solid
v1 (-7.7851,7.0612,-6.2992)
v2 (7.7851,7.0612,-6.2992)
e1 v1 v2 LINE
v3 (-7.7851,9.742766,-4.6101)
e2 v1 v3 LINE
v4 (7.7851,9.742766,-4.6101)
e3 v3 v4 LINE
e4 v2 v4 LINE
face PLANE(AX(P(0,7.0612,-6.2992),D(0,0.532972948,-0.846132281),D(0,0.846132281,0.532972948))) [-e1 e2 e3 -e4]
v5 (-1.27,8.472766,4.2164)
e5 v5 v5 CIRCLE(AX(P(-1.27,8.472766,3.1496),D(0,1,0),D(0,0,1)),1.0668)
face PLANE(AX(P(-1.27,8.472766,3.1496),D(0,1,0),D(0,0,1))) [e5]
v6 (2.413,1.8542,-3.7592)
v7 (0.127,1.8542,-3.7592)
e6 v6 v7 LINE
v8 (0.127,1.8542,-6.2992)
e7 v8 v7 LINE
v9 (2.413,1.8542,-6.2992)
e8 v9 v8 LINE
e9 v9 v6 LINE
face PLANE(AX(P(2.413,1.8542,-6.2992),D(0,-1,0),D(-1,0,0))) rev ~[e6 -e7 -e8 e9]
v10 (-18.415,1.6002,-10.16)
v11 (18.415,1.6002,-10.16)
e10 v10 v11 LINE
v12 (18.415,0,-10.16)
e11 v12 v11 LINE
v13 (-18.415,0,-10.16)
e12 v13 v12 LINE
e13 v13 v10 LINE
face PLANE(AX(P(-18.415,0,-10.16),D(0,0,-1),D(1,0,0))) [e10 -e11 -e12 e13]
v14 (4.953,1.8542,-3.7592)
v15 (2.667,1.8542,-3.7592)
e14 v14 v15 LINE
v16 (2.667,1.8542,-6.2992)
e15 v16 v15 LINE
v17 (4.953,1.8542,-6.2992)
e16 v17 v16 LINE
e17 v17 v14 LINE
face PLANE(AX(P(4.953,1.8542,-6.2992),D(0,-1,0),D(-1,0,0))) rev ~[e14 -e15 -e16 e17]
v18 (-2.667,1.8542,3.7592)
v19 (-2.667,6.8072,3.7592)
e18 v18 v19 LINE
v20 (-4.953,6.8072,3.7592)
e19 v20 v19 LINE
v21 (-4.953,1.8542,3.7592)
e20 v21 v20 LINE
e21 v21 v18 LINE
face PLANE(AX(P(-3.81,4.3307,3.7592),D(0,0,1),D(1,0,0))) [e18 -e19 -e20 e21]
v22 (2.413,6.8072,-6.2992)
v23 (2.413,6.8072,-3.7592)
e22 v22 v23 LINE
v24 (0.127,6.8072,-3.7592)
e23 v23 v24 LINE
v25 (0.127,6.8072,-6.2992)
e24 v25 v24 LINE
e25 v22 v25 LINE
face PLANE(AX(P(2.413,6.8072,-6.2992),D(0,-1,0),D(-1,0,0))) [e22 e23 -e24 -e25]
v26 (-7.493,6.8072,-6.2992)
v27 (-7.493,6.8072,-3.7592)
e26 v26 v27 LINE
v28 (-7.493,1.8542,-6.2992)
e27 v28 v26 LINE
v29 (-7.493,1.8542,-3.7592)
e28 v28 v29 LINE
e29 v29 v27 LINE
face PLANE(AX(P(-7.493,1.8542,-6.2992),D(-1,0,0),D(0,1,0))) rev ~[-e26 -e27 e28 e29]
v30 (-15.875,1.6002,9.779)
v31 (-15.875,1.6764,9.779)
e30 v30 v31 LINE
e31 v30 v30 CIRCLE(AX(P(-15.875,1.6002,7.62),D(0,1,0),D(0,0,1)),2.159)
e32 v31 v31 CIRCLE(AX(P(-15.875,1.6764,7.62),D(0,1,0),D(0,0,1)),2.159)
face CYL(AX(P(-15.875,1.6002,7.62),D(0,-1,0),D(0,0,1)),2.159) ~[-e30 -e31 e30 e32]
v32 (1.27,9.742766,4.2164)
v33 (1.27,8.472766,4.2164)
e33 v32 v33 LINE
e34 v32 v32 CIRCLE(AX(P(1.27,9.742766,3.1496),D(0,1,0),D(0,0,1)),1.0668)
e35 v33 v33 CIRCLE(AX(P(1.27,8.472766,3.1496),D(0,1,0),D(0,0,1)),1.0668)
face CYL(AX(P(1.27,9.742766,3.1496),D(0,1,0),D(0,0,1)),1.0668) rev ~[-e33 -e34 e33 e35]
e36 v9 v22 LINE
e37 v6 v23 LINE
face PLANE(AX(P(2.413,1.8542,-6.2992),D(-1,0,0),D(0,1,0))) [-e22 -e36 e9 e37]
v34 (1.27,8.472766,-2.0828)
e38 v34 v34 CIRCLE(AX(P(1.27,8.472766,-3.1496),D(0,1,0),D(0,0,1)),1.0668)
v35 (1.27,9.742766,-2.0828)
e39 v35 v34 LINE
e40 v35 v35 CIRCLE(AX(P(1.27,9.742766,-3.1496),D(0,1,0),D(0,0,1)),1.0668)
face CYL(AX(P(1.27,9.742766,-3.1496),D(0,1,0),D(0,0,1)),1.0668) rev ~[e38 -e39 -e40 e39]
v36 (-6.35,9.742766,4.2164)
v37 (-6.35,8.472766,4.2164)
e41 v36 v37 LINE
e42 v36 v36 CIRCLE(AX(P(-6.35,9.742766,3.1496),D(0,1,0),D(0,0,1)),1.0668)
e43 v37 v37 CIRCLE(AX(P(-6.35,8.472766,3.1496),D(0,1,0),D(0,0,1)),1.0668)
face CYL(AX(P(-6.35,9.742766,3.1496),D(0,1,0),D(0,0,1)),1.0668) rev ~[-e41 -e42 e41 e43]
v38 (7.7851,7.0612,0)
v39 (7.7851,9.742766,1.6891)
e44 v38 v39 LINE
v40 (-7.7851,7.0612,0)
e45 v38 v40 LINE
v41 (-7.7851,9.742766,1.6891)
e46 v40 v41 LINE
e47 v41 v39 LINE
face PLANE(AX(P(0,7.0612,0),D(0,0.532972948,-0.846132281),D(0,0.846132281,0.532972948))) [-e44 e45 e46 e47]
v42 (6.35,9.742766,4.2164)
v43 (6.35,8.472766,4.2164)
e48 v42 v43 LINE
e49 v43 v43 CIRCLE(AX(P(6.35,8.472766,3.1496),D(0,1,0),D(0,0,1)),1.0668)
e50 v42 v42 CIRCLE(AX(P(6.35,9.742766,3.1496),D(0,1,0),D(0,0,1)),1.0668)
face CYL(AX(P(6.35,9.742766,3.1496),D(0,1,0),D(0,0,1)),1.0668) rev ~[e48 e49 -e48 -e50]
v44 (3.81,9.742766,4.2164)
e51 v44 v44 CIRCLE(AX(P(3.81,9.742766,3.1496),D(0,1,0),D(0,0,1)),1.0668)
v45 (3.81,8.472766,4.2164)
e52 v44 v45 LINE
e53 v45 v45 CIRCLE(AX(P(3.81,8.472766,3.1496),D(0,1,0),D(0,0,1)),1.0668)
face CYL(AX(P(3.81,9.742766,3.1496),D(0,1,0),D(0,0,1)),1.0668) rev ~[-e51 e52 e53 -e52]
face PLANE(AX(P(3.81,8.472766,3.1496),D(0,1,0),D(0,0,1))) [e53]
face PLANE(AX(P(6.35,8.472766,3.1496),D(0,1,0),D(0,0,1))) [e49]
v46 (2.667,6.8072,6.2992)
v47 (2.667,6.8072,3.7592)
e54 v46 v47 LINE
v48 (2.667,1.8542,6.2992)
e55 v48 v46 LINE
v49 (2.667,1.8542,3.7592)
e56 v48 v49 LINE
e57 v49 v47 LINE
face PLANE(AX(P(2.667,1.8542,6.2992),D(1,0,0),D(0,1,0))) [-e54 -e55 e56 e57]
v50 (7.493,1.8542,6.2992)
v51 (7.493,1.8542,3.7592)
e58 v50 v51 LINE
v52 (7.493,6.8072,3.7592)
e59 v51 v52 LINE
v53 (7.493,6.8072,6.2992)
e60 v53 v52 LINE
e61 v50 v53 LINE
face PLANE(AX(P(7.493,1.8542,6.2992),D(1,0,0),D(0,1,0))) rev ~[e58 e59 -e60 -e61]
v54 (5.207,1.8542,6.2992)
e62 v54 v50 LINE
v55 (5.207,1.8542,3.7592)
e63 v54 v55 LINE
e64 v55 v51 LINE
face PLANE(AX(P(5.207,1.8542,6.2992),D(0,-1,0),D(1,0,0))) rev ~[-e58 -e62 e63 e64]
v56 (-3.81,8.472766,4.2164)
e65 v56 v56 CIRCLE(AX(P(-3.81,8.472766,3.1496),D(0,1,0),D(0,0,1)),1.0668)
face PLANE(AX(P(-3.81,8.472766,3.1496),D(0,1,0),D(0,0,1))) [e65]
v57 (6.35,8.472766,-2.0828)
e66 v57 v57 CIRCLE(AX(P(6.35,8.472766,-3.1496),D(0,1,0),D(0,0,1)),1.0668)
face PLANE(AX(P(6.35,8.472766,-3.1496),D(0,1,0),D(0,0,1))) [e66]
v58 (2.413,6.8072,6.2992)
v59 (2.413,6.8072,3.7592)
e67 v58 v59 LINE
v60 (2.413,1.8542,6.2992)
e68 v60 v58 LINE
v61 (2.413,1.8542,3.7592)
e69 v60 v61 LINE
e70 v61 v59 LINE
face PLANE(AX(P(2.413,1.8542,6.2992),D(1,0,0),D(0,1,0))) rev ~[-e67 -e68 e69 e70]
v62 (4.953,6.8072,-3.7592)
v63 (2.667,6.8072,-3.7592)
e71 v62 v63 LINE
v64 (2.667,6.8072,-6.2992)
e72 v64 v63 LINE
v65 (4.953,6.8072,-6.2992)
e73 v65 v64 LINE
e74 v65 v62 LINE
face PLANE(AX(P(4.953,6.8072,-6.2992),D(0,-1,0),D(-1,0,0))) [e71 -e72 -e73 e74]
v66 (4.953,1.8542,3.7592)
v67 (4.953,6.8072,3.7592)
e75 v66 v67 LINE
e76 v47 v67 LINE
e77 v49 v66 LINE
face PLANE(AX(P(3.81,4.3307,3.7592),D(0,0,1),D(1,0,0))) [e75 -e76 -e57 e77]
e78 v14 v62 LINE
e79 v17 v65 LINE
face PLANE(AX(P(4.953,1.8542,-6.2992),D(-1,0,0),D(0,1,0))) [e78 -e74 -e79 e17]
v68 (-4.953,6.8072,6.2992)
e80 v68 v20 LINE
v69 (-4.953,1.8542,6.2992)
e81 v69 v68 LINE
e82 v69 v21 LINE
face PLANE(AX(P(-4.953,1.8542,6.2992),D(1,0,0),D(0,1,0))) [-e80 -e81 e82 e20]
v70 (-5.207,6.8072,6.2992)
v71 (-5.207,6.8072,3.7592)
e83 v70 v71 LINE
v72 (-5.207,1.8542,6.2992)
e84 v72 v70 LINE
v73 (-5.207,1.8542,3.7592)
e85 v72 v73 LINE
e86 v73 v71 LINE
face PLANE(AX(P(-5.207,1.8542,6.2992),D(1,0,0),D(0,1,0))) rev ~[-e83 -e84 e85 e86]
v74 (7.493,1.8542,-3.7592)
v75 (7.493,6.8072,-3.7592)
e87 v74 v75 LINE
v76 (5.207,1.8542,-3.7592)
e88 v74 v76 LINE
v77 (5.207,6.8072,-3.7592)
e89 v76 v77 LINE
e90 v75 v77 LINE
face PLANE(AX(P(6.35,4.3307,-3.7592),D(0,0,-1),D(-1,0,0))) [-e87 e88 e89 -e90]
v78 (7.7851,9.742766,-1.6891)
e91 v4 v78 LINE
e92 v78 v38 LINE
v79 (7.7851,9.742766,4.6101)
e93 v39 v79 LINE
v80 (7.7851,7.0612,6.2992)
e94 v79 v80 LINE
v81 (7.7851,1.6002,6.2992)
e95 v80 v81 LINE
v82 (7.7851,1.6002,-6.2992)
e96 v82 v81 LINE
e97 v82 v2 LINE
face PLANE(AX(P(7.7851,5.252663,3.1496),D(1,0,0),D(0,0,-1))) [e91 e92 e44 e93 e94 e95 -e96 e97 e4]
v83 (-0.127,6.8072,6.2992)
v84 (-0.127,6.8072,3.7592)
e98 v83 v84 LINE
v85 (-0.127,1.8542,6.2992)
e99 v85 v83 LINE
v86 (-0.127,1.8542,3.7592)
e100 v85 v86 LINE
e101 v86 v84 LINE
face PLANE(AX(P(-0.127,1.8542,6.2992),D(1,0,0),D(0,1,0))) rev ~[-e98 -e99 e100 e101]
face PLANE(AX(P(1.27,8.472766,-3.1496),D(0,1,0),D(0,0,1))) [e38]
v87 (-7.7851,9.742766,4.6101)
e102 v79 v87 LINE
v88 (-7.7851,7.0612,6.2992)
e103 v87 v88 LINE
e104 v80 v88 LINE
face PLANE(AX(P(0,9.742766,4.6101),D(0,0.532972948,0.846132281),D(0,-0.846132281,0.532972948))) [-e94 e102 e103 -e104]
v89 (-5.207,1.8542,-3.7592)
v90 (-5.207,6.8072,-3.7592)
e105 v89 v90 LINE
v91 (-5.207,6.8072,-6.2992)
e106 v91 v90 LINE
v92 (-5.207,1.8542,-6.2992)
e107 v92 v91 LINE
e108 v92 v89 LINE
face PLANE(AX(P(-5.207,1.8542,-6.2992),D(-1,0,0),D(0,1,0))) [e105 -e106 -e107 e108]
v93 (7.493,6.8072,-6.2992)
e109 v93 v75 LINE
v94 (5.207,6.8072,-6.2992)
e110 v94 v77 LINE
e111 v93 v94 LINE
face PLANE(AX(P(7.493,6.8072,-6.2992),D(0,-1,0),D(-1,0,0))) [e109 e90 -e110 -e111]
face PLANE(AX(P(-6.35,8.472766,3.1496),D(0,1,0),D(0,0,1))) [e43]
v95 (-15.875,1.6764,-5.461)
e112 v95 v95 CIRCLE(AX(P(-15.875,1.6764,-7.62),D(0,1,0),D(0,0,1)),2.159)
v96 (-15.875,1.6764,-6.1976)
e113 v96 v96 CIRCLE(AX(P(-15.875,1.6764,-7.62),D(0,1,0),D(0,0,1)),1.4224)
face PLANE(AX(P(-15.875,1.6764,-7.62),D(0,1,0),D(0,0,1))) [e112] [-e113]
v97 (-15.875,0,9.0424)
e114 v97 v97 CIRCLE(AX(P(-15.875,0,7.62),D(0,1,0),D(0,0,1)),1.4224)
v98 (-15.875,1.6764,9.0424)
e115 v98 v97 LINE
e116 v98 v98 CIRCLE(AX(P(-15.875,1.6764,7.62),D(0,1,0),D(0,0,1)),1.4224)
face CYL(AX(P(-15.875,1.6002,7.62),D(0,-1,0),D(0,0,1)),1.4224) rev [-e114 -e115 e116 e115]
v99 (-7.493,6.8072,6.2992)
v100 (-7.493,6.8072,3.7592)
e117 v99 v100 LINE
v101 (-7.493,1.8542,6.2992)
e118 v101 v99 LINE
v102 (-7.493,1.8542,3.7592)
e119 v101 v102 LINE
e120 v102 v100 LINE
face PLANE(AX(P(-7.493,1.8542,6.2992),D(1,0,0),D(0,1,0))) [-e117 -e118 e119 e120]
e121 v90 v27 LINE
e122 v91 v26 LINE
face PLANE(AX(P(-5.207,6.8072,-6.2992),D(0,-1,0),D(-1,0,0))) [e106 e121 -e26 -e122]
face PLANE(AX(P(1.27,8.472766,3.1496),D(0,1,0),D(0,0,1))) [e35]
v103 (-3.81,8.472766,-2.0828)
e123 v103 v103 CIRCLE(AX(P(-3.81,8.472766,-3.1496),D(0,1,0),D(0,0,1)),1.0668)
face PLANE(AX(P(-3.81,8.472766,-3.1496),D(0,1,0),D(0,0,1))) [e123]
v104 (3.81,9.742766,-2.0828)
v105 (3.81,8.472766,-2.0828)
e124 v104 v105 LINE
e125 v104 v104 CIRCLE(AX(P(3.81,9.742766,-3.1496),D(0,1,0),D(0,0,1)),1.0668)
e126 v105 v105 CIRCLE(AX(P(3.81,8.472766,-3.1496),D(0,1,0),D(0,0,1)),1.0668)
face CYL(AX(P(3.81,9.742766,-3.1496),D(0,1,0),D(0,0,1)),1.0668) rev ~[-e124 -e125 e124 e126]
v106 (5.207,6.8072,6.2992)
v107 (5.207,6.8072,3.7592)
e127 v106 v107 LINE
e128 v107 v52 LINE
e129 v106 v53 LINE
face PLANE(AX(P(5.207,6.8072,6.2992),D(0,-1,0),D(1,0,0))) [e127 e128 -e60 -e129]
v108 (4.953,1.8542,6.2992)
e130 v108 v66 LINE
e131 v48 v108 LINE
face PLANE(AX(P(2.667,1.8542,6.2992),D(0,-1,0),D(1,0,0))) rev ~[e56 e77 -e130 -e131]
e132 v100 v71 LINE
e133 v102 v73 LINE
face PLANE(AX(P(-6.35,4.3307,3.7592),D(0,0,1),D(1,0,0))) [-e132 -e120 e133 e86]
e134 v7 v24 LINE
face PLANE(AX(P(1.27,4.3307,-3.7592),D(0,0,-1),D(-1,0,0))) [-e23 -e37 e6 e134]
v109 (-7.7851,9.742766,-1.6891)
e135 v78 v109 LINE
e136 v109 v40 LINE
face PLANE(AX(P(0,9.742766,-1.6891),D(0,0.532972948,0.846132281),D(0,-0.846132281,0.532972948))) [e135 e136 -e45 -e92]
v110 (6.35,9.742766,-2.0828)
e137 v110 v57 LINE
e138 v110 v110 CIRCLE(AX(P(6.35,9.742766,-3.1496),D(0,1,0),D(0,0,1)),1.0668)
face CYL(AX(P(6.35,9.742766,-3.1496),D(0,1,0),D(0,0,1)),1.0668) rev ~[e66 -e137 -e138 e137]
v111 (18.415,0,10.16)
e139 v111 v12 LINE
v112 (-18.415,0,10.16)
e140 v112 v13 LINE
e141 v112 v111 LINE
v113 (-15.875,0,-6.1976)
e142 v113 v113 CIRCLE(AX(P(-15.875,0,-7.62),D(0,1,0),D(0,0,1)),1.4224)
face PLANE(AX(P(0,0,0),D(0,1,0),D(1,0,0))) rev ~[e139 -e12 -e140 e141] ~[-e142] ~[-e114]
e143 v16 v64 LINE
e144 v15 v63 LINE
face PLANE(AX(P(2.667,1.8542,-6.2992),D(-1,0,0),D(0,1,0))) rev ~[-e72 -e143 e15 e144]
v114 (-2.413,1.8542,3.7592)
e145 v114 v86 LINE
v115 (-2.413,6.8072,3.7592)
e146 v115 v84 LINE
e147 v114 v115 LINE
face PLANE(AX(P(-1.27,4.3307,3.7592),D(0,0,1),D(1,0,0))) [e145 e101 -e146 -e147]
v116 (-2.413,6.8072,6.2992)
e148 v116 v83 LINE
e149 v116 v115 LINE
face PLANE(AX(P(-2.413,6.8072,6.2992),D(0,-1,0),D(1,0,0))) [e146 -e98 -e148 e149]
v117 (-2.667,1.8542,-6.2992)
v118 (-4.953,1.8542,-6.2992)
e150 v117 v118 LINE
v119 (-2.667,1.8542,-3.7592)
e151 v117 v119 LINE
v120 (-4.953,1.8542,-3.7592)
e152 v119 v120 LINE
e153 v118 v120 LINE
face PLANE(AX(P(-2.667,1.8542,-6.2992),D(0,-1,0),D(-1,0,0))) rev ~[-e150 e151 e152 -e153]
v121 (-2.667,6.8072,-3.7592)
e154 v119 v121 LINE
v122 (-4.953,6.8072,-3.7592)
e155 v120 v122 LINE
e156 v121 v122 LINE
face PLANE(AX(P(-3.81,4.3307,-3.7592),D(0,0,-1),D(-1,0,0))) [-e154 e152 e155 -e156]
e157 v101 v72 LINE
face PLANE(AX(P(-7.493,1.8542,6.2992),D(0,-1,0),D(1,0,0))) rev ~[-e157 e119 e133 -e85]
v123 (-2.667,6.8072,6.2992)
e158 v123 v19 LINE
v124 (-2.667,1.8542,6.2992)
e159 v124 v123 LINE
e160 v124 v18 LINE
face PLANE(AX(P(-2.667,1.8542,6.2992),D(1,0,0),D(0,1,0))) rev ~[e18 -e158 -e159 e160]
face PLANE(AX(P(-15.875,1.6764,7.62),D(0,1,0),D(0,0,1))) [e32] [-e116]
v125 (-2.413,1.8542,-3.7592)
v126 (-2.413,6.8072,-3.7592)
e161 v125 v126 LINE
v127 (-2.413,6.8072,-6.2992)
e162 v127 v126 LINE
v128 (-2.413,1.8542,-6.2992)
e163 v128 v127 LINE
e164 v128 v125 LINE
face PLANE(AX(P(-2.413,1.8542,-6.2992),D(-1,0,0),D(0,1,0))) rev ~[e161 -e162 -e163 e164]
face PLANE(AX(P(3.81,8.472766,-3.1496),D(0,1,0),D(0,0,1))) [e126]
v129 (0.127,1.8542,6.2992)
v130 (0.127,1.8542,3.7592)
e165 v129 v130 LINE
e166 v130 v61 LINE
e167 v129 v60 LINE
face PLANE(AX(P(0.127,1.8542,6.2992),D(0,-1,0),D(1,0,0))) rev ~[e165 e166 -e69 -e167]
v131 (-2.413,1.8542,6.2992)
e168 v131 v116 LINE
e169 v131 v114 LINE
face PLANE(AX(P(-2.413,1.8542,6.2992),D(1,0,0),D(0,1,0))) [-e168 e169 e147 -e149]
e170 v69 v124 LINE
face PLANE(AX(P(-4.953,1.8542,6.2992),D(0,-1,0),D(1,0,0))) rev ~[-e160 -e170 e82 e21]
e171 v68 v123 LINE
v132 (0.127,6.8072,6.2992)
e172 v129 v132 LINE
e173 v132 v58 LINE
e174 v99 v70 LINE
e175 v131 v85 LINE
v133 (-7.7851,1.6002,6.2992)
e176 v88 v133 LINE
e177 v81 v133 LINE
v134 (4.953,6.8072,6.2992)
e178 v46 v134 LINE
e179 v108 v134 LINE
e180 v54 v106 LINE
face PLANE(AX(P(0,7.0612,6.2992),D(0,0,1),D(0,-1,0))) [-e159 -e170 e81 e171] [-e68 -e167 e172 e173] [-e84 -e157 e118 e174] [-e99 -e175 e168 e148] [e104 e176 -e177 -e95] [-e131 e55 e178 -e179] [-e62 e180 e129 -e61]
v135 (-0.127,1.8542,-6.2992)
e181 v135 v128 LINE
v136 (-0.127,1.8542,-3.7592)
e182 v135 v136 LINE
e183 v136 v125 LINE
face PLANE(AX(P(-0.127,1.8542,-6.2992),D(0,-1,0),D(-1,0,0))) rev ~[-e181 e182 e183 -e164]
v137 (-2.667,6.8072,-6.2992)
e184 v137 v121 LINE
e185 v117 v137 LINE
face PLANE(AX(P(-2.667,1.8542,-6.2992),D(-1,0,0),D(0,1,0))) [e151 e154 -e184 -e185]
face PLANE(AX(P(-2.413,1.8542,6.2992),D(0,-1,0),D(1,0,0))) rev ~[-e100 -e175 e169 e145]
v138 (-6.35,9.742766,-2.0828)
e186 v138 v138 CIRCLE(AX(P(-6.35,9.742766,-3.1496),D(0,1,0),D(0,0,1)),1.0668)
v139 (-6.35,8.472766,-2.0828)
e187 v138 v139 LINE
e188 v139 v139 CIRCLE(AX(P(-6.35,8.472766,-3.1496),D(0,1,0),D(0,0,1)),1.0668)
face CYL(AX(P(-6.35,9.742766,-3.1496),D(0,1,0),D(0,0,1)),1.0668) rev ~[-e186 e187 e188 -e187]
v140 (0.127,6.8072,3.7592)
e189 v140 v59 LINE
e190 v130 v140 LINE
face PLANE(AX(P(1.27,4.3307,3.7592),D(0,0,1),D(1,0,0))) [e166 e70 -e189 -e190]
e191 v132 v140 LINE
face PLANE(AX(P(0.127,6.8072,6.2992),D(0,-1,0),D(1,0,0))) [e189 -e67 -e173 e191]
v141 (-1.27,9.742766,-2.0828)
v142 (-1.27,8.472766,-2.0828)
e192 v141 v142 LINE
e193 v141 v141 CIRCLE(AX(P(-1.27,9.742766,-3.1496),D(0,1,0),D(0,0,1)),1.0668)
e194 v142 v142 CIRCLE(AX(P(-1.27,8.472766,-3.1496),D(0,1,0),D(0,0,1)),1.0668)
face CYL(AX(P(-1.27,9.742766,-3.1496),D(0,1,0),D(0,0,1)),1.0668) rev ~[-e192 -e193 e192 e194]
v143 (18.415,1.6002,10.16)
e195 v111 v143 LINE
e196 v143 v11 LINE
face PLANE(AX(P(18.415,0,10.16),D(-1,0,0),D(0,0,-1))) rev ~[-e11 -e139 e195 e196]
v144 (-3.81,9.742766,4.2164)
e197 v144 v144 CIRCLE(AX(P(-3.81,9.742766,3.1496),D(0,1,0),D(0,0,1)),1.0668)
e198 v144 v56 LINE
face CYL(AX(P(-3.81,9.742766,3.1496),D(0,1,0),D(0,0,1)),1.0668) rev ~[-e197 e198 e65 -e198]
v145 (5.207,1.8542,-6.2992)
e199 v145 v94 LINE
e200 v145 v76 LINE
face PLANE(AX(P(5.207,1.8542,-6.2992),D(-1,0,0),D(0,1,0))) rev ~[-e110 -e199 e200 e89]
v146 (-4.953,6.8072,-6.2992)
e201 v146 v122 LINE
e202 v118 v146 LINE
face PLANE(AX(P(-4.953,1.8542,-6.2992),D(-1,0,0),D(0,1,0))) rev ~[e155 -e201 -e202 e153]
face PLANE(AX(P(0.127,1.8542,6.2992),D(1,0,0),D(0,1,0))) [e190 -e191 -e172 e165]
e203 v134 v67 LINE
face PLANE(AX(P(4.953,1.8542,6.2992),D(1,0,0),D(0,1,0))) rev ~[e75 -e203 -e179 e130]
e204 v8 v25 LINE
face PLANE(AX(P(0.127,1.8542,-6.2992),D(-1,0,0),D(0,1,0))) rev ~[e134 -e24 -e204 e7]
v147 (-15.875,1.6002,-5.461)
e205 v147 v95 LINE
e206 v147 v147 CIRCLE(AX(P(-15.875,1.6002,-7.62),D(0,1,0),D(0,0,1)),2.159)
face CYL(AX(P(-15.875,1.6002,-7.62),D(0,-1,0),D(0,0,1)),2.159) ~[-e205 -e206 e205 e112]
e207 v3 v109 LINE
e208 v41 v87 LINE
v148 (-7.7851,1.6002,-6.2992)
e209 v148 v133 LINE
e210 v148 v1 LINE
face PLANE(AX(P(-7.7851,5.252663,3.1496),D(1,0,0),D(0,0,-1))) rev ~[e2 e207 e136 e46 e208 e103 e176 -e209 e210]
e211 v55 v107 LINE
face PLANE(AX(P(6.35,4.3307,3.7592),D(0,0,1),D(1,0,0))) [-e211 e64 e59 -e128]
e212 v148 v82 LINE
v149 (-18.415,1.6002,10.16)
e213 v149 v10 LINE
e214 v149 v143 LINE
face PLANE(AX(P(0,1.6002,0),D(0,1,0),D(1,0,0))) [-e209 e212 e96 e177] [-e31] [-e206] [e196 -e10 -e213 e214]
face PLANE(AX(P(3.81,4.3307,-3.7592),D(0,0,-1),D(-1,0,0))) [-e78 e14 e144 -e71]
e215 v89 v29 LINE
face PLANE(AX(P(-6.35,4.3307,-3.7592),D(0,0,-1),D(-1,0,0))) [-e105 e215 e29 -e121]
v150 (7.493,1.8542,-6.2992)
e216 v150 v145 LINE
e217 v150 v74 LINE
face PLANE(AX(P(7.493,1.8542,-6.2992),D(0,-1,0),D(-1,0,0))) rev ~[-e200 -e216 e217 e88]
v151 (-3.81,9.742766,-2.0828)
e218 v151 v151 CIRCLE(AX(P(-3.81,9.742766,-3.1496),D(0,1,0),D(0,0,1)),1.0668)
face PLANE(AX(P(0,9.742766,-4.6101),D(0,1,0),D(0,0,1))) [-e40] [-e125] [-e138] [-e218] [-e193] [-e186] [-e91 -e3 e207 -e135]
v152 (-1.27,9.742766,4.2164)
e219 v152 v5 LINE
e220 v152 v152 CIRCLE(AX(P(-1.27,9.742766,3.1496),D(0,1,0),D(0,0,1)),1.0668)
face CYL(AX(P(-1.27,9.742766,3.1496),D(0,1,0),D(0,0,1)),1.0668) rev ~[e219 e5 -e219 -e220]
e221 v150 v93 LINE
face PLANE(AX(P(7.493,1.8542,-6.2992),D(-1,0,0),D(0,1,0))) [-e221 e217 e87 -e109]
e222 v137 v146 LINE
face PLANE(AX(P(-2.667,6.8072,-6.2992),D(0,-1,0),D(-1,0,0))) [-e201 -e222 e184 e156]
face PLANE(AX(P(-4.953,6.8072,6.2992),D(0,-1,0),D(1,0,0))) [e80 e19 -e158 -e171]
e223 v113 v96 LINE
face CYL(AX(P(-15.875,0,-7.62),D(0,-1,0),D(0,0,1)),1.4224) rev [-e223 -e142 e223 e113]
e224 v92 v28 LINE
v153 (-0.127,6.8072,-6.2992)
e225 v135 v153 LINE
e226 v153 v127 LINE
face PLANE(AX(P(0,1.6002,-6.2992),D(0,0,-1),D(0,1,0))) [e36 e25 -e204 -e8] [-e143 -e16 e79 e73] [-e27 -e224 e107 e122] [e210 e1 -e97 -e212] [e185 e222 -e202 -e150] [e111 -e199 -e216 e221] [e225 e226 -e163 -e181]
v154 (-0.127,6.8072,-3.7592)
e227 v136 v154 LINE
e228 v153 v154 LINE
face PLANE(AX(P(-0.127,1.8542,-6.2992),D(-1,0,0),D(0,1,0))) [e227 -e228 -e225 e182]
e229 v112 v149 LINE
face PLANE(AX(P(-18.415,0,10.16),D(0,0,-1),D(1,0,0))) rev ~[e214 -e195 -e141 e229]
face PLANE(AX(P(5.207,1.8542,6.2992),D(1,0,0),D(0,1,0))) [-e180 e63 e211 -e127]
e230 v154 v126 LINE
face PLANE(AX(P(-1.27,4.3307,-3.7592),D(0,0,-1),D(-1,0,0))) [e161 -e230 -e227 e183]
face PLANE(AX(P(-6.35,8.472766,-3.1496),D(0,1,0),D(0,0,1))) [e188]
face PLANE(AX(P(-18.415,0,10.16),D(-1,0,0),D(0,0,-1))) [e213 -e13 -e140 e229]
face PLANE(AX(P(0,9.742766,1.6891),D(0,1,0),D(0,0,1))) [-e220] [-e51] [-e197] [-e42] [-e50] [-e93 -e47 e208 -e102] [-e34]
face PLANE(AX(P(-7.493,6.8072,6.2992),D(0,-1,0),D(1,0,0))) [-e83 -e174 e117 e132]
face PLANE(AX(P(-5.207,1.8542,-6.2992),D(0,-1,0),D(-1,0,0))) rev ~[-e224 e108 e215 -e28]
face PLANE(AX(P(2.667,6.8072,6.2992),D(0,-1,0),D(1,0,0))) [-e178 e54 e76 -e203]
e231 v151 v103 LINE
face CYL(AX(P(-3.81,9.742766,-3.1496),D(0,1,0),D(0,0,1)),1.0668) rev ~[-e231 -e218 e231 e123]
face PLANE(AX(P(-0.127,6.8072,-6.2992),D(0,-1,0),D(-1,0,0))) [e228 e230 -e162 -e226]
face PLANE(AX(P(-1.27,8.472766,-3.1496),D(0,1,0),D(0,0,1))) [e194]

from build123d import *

# Parameters (mm, degrees)
SKETCH1_W           = 36.83
SKETCH1_H           = 20.32
BOSS_EXTRUDE1_DEPTH = 1.6002
SKETCH5_R           = 1.4224
CUT_EXTRUDE3_DEPTH  = 22.092616363
BOSS_EXTRUDE2_DEPTH = 7.7851
BOSS_EXTRUDE3_DEPTH = 7.7851
SKETCH11_W          = 2.286
SKETCH11_H          = 4.953
CUT_EXTRUDE5_DEPTH  = 2.54
SKETCH12_W          = 2.286
SKETCH12_H          = 4.953
CUT_EXTRUDE6_DEPTH  = 2.54
SKETCH13_R          = 1.0668
CUT_EXTRUDE7_DEPTH  = 1.27
SKETCH17_R          = 1.0668
CUT_EXTRUDE9_DEPTH  = 1.27
SKETCH21_R          = 2.159
SKETCH21_R_2        = 1.4224
BOSS_EXTRUDE5_DEPTH = 0.0762


with BuildPart() as part:
    # Sketch1 → Boss-Extrude1 (new body)
    with BuildSketch(Plane(origin=(0, 0, 0), x_dir=(1, 0, 0), z_dir=(0, 1, 0))):
        Rectangle(SKETCH1_W, SKETCH1_H)
    extrude(amount=BOSS_EXTRUDE1_DEPTH)

    # Sketch5 → Cut-Extrude3 (cut, through all)
    with BuildSketch(Plane(origin=(0, 0, 0), x_dir=(1, 0, 0), z_dir=(0, 1, 0))):
        with Locations(Location((-15.875, 7.62, 0), (0, 0, 270))):
            Circle(SKETCH5_R)
        with Locations(Location((-15.875, -7.62, 0), (0, 0, 270))):
            Circle(SKETCH5_R)
    extrude(amount=CUT_EXTRUDE3_DEPTH, mode=Mode.SUBTRACT)

    # Sketch8 → Boss-Extrude2 (add, symmetric)
    with BuildSketch(Plane(origin=(0, 0, 0), x_dir=(0, 0, -1), z_dir=(1, 0, 0))):
        Polygon((0, 1.6002), (6.2992, 1.6002), (6.2992, 7.0612), (4.6101, 9.742765812), (1.6891, 9.742765812), (0, 7.0612), align=None)
    extrude(amount=BOSS_EXTRUDE2_DEPTH, both=True)

    # Sketch10 → Boss-Extrude3 (add, symmetric)
    with BuildSketch(Plane(origin=(0, 0, 0), x_dir=(0, 0, -1), z_dir=(1, 0, 0))):
        Polygon((-6.2992, 1.6002), (0, 1.6002), (0, 7.0612), (-1.6891, 9.742765812), (-4.6101, 9.742765812), (-6.2992, 7.0612), align=None)
    extrude(amount=BOSS_EXTRUDE3_DEPTH, both=True)

    # Sketch11 → Cut-Extrude5 (cut)
    with BuildSketch(Plane.XY.offset(6.2992)):
        with Locations((-1.27, 4.3307)):
            Rectangle(SKETCH11_W, SKETCH11_H)
        with Locations((-3.81, 4.3307)):
            Rectangle(SKETCH11_W, SKETCH11_H)
        with Locations((-6.35, 4.3307)):
            Rectangle(SKETCH11_W, SKETCH11_H)
        with Locations((1.27, 4.3307)):
            Rectangle(SKETCH11_W, SKETCH11_H)
        with Locations((3.81, 4.3307)):
            Rectangle(SKETCH11_W, SKETCH11_H)
        with Locations((6.35, 4.3307)):
            Rectangle(SKETCH11_W, SKETCH11_H)
    extrude(amount=-CUT_EXTRUDE5_DEPTH, mode=Mode.SUBTRACT)

    # Sketch12 → Cut-Extrude6 (cut)
    with BuildSketch(Plane(origin=(0, 0, -6.2992), x_dir=(-1, 0, 0), z_dir=(0, 0, -1))):
        with Locations((-1.27, 4.3307)):
            Rectangle(SKETCH12_W, SKETCH12_H)
        with Locations((-3.81, 4.3307)):
            Rectangle(SKETCH12_W, SKETCH12_H)
        with Locations((-6.35, 4.3307)):
            Rectangle(SKETCH12_W, SKETCH12_H)
        with Locations((1.27, 4.3307)):
            Rectangle(SKETCH12_W, SKETCH12_H)
        with Locations((3.81, 4.3307)):
            Rectangle(SKETCH12_W, SKETCH12_H)
        with Locations((6.35, 4.3307)):
            Rectangle(SKETCH12_W, SKETCH12_H)
    extrude(amount=-CUT_EXTRUDE6_DEPTH, mode=Mode.SUBTRACT)

    # Sketch13 → Cut-Extrude7 (cut)
    with BuildSketch(Plane(origin=(0, 9.742765812, 0), x_dir=(1, 0, 0), z_dir=(0, 1, 0))):
        with Locations(Location((-1.27, -3.1496, 0), (0, 0, 270))):
            Circle(SKETCH13_R)
        with Locations(Location((-3.81, -3.1496, 0), (0, 0, 270))):
            Circle(SKETCH13_R)
        with Locations(Location((-6.35, -3.1496, 0), (0, 0, 270))):
            Circle(SKETCH13_R)
        with Locations(Location((1.27, -3.1496, 0), (0, 0, 270))):
            Circle(SKETCH13_R)
        with Locations(Location((3.81, -3.1496, 0), (0, 0, 270))):
            Circle(SKETCH13_R)
        with Locations(Location((6.35, -3.1496, 0), (0, 0, 270))):
            Circle(SKETCH13_R)
    extrude(amount=-CUT_EXTRUDE7_DEPTH, mode=Mode.SUBTRACT)

    # Sketch17 → Cut-Extrude9 (cut)
    with BuildSketch(Plane(origin=(0, 9.742765812, 0), x_dir=(1, 0, 0), z_dir=(0, 1, 0))):
        with Locations(Location((-1.27, 3.1496, 0), (0, 0, 270))):
            Circle(SKETCH17_R)
        with Locations(Location((-3.81, 3.1496, 0), (0, 0, 270))):
            Circle(SKETCH17_R)
        with Locations(Location((-6.35, 3.1496, 0), (0, 0, 270))):
            Circle(SKETCH17_R)
        with Locations(Location((1.27, 3.1496, 0), (0, 0, 270))):
            Circle(SKETCH17_R)
        with Locations(Location((3.81, 3.1496, 0), (0, 0, 270))):
            Circle(SKETCH17_R)
        with Locations(Location((6.35, 3.1496, 0), (0, 0, 270))):
            Circle(SKETCH17_R)
    extrude(amount=-CUT_EXTRUDE9_DEPTH, mode=Mode.SUBTRACT)

    # Sketch21 → Boss-Extrude5 (add)
    # profile 1 of 2: a face of its own
    with BuildSketch(Plane(origin=(0, 1.6002, 0), x_dir=(1, 0, 0), z_dir=(0, 1, 0))):
        with Locations(Location((-15.875, -7.62, 0), (0, 0, 270))):
            Circle(SKETCH21_R)
        with Locations(Location((-15.875, -7.62, 0), (0, 0, 270))):
            Circle(SKETCH21_R_2, mode=Mode.SUBTRACT)
    # profile 2 of 2: a face of its own
    with BuildSketch(Plane(origin=(0, 1.6002, 0), x_dir=(1, 0, 0), z_dir=(0, 1, 0))):
        with Locations(Location((-15.875, 7.62, 0), (0, 0, 270))):
            Circle(SKETCH21_R)
        with Locations(Location((-15.875, 7.62, 0), (0, 0, 270))):
            Circle(SKETCH21_R_2, mode=Mode.SUBTRACT)
    extrude(amount=BOSS_EXTRUDE5_DEPTH)


solid = part.part
